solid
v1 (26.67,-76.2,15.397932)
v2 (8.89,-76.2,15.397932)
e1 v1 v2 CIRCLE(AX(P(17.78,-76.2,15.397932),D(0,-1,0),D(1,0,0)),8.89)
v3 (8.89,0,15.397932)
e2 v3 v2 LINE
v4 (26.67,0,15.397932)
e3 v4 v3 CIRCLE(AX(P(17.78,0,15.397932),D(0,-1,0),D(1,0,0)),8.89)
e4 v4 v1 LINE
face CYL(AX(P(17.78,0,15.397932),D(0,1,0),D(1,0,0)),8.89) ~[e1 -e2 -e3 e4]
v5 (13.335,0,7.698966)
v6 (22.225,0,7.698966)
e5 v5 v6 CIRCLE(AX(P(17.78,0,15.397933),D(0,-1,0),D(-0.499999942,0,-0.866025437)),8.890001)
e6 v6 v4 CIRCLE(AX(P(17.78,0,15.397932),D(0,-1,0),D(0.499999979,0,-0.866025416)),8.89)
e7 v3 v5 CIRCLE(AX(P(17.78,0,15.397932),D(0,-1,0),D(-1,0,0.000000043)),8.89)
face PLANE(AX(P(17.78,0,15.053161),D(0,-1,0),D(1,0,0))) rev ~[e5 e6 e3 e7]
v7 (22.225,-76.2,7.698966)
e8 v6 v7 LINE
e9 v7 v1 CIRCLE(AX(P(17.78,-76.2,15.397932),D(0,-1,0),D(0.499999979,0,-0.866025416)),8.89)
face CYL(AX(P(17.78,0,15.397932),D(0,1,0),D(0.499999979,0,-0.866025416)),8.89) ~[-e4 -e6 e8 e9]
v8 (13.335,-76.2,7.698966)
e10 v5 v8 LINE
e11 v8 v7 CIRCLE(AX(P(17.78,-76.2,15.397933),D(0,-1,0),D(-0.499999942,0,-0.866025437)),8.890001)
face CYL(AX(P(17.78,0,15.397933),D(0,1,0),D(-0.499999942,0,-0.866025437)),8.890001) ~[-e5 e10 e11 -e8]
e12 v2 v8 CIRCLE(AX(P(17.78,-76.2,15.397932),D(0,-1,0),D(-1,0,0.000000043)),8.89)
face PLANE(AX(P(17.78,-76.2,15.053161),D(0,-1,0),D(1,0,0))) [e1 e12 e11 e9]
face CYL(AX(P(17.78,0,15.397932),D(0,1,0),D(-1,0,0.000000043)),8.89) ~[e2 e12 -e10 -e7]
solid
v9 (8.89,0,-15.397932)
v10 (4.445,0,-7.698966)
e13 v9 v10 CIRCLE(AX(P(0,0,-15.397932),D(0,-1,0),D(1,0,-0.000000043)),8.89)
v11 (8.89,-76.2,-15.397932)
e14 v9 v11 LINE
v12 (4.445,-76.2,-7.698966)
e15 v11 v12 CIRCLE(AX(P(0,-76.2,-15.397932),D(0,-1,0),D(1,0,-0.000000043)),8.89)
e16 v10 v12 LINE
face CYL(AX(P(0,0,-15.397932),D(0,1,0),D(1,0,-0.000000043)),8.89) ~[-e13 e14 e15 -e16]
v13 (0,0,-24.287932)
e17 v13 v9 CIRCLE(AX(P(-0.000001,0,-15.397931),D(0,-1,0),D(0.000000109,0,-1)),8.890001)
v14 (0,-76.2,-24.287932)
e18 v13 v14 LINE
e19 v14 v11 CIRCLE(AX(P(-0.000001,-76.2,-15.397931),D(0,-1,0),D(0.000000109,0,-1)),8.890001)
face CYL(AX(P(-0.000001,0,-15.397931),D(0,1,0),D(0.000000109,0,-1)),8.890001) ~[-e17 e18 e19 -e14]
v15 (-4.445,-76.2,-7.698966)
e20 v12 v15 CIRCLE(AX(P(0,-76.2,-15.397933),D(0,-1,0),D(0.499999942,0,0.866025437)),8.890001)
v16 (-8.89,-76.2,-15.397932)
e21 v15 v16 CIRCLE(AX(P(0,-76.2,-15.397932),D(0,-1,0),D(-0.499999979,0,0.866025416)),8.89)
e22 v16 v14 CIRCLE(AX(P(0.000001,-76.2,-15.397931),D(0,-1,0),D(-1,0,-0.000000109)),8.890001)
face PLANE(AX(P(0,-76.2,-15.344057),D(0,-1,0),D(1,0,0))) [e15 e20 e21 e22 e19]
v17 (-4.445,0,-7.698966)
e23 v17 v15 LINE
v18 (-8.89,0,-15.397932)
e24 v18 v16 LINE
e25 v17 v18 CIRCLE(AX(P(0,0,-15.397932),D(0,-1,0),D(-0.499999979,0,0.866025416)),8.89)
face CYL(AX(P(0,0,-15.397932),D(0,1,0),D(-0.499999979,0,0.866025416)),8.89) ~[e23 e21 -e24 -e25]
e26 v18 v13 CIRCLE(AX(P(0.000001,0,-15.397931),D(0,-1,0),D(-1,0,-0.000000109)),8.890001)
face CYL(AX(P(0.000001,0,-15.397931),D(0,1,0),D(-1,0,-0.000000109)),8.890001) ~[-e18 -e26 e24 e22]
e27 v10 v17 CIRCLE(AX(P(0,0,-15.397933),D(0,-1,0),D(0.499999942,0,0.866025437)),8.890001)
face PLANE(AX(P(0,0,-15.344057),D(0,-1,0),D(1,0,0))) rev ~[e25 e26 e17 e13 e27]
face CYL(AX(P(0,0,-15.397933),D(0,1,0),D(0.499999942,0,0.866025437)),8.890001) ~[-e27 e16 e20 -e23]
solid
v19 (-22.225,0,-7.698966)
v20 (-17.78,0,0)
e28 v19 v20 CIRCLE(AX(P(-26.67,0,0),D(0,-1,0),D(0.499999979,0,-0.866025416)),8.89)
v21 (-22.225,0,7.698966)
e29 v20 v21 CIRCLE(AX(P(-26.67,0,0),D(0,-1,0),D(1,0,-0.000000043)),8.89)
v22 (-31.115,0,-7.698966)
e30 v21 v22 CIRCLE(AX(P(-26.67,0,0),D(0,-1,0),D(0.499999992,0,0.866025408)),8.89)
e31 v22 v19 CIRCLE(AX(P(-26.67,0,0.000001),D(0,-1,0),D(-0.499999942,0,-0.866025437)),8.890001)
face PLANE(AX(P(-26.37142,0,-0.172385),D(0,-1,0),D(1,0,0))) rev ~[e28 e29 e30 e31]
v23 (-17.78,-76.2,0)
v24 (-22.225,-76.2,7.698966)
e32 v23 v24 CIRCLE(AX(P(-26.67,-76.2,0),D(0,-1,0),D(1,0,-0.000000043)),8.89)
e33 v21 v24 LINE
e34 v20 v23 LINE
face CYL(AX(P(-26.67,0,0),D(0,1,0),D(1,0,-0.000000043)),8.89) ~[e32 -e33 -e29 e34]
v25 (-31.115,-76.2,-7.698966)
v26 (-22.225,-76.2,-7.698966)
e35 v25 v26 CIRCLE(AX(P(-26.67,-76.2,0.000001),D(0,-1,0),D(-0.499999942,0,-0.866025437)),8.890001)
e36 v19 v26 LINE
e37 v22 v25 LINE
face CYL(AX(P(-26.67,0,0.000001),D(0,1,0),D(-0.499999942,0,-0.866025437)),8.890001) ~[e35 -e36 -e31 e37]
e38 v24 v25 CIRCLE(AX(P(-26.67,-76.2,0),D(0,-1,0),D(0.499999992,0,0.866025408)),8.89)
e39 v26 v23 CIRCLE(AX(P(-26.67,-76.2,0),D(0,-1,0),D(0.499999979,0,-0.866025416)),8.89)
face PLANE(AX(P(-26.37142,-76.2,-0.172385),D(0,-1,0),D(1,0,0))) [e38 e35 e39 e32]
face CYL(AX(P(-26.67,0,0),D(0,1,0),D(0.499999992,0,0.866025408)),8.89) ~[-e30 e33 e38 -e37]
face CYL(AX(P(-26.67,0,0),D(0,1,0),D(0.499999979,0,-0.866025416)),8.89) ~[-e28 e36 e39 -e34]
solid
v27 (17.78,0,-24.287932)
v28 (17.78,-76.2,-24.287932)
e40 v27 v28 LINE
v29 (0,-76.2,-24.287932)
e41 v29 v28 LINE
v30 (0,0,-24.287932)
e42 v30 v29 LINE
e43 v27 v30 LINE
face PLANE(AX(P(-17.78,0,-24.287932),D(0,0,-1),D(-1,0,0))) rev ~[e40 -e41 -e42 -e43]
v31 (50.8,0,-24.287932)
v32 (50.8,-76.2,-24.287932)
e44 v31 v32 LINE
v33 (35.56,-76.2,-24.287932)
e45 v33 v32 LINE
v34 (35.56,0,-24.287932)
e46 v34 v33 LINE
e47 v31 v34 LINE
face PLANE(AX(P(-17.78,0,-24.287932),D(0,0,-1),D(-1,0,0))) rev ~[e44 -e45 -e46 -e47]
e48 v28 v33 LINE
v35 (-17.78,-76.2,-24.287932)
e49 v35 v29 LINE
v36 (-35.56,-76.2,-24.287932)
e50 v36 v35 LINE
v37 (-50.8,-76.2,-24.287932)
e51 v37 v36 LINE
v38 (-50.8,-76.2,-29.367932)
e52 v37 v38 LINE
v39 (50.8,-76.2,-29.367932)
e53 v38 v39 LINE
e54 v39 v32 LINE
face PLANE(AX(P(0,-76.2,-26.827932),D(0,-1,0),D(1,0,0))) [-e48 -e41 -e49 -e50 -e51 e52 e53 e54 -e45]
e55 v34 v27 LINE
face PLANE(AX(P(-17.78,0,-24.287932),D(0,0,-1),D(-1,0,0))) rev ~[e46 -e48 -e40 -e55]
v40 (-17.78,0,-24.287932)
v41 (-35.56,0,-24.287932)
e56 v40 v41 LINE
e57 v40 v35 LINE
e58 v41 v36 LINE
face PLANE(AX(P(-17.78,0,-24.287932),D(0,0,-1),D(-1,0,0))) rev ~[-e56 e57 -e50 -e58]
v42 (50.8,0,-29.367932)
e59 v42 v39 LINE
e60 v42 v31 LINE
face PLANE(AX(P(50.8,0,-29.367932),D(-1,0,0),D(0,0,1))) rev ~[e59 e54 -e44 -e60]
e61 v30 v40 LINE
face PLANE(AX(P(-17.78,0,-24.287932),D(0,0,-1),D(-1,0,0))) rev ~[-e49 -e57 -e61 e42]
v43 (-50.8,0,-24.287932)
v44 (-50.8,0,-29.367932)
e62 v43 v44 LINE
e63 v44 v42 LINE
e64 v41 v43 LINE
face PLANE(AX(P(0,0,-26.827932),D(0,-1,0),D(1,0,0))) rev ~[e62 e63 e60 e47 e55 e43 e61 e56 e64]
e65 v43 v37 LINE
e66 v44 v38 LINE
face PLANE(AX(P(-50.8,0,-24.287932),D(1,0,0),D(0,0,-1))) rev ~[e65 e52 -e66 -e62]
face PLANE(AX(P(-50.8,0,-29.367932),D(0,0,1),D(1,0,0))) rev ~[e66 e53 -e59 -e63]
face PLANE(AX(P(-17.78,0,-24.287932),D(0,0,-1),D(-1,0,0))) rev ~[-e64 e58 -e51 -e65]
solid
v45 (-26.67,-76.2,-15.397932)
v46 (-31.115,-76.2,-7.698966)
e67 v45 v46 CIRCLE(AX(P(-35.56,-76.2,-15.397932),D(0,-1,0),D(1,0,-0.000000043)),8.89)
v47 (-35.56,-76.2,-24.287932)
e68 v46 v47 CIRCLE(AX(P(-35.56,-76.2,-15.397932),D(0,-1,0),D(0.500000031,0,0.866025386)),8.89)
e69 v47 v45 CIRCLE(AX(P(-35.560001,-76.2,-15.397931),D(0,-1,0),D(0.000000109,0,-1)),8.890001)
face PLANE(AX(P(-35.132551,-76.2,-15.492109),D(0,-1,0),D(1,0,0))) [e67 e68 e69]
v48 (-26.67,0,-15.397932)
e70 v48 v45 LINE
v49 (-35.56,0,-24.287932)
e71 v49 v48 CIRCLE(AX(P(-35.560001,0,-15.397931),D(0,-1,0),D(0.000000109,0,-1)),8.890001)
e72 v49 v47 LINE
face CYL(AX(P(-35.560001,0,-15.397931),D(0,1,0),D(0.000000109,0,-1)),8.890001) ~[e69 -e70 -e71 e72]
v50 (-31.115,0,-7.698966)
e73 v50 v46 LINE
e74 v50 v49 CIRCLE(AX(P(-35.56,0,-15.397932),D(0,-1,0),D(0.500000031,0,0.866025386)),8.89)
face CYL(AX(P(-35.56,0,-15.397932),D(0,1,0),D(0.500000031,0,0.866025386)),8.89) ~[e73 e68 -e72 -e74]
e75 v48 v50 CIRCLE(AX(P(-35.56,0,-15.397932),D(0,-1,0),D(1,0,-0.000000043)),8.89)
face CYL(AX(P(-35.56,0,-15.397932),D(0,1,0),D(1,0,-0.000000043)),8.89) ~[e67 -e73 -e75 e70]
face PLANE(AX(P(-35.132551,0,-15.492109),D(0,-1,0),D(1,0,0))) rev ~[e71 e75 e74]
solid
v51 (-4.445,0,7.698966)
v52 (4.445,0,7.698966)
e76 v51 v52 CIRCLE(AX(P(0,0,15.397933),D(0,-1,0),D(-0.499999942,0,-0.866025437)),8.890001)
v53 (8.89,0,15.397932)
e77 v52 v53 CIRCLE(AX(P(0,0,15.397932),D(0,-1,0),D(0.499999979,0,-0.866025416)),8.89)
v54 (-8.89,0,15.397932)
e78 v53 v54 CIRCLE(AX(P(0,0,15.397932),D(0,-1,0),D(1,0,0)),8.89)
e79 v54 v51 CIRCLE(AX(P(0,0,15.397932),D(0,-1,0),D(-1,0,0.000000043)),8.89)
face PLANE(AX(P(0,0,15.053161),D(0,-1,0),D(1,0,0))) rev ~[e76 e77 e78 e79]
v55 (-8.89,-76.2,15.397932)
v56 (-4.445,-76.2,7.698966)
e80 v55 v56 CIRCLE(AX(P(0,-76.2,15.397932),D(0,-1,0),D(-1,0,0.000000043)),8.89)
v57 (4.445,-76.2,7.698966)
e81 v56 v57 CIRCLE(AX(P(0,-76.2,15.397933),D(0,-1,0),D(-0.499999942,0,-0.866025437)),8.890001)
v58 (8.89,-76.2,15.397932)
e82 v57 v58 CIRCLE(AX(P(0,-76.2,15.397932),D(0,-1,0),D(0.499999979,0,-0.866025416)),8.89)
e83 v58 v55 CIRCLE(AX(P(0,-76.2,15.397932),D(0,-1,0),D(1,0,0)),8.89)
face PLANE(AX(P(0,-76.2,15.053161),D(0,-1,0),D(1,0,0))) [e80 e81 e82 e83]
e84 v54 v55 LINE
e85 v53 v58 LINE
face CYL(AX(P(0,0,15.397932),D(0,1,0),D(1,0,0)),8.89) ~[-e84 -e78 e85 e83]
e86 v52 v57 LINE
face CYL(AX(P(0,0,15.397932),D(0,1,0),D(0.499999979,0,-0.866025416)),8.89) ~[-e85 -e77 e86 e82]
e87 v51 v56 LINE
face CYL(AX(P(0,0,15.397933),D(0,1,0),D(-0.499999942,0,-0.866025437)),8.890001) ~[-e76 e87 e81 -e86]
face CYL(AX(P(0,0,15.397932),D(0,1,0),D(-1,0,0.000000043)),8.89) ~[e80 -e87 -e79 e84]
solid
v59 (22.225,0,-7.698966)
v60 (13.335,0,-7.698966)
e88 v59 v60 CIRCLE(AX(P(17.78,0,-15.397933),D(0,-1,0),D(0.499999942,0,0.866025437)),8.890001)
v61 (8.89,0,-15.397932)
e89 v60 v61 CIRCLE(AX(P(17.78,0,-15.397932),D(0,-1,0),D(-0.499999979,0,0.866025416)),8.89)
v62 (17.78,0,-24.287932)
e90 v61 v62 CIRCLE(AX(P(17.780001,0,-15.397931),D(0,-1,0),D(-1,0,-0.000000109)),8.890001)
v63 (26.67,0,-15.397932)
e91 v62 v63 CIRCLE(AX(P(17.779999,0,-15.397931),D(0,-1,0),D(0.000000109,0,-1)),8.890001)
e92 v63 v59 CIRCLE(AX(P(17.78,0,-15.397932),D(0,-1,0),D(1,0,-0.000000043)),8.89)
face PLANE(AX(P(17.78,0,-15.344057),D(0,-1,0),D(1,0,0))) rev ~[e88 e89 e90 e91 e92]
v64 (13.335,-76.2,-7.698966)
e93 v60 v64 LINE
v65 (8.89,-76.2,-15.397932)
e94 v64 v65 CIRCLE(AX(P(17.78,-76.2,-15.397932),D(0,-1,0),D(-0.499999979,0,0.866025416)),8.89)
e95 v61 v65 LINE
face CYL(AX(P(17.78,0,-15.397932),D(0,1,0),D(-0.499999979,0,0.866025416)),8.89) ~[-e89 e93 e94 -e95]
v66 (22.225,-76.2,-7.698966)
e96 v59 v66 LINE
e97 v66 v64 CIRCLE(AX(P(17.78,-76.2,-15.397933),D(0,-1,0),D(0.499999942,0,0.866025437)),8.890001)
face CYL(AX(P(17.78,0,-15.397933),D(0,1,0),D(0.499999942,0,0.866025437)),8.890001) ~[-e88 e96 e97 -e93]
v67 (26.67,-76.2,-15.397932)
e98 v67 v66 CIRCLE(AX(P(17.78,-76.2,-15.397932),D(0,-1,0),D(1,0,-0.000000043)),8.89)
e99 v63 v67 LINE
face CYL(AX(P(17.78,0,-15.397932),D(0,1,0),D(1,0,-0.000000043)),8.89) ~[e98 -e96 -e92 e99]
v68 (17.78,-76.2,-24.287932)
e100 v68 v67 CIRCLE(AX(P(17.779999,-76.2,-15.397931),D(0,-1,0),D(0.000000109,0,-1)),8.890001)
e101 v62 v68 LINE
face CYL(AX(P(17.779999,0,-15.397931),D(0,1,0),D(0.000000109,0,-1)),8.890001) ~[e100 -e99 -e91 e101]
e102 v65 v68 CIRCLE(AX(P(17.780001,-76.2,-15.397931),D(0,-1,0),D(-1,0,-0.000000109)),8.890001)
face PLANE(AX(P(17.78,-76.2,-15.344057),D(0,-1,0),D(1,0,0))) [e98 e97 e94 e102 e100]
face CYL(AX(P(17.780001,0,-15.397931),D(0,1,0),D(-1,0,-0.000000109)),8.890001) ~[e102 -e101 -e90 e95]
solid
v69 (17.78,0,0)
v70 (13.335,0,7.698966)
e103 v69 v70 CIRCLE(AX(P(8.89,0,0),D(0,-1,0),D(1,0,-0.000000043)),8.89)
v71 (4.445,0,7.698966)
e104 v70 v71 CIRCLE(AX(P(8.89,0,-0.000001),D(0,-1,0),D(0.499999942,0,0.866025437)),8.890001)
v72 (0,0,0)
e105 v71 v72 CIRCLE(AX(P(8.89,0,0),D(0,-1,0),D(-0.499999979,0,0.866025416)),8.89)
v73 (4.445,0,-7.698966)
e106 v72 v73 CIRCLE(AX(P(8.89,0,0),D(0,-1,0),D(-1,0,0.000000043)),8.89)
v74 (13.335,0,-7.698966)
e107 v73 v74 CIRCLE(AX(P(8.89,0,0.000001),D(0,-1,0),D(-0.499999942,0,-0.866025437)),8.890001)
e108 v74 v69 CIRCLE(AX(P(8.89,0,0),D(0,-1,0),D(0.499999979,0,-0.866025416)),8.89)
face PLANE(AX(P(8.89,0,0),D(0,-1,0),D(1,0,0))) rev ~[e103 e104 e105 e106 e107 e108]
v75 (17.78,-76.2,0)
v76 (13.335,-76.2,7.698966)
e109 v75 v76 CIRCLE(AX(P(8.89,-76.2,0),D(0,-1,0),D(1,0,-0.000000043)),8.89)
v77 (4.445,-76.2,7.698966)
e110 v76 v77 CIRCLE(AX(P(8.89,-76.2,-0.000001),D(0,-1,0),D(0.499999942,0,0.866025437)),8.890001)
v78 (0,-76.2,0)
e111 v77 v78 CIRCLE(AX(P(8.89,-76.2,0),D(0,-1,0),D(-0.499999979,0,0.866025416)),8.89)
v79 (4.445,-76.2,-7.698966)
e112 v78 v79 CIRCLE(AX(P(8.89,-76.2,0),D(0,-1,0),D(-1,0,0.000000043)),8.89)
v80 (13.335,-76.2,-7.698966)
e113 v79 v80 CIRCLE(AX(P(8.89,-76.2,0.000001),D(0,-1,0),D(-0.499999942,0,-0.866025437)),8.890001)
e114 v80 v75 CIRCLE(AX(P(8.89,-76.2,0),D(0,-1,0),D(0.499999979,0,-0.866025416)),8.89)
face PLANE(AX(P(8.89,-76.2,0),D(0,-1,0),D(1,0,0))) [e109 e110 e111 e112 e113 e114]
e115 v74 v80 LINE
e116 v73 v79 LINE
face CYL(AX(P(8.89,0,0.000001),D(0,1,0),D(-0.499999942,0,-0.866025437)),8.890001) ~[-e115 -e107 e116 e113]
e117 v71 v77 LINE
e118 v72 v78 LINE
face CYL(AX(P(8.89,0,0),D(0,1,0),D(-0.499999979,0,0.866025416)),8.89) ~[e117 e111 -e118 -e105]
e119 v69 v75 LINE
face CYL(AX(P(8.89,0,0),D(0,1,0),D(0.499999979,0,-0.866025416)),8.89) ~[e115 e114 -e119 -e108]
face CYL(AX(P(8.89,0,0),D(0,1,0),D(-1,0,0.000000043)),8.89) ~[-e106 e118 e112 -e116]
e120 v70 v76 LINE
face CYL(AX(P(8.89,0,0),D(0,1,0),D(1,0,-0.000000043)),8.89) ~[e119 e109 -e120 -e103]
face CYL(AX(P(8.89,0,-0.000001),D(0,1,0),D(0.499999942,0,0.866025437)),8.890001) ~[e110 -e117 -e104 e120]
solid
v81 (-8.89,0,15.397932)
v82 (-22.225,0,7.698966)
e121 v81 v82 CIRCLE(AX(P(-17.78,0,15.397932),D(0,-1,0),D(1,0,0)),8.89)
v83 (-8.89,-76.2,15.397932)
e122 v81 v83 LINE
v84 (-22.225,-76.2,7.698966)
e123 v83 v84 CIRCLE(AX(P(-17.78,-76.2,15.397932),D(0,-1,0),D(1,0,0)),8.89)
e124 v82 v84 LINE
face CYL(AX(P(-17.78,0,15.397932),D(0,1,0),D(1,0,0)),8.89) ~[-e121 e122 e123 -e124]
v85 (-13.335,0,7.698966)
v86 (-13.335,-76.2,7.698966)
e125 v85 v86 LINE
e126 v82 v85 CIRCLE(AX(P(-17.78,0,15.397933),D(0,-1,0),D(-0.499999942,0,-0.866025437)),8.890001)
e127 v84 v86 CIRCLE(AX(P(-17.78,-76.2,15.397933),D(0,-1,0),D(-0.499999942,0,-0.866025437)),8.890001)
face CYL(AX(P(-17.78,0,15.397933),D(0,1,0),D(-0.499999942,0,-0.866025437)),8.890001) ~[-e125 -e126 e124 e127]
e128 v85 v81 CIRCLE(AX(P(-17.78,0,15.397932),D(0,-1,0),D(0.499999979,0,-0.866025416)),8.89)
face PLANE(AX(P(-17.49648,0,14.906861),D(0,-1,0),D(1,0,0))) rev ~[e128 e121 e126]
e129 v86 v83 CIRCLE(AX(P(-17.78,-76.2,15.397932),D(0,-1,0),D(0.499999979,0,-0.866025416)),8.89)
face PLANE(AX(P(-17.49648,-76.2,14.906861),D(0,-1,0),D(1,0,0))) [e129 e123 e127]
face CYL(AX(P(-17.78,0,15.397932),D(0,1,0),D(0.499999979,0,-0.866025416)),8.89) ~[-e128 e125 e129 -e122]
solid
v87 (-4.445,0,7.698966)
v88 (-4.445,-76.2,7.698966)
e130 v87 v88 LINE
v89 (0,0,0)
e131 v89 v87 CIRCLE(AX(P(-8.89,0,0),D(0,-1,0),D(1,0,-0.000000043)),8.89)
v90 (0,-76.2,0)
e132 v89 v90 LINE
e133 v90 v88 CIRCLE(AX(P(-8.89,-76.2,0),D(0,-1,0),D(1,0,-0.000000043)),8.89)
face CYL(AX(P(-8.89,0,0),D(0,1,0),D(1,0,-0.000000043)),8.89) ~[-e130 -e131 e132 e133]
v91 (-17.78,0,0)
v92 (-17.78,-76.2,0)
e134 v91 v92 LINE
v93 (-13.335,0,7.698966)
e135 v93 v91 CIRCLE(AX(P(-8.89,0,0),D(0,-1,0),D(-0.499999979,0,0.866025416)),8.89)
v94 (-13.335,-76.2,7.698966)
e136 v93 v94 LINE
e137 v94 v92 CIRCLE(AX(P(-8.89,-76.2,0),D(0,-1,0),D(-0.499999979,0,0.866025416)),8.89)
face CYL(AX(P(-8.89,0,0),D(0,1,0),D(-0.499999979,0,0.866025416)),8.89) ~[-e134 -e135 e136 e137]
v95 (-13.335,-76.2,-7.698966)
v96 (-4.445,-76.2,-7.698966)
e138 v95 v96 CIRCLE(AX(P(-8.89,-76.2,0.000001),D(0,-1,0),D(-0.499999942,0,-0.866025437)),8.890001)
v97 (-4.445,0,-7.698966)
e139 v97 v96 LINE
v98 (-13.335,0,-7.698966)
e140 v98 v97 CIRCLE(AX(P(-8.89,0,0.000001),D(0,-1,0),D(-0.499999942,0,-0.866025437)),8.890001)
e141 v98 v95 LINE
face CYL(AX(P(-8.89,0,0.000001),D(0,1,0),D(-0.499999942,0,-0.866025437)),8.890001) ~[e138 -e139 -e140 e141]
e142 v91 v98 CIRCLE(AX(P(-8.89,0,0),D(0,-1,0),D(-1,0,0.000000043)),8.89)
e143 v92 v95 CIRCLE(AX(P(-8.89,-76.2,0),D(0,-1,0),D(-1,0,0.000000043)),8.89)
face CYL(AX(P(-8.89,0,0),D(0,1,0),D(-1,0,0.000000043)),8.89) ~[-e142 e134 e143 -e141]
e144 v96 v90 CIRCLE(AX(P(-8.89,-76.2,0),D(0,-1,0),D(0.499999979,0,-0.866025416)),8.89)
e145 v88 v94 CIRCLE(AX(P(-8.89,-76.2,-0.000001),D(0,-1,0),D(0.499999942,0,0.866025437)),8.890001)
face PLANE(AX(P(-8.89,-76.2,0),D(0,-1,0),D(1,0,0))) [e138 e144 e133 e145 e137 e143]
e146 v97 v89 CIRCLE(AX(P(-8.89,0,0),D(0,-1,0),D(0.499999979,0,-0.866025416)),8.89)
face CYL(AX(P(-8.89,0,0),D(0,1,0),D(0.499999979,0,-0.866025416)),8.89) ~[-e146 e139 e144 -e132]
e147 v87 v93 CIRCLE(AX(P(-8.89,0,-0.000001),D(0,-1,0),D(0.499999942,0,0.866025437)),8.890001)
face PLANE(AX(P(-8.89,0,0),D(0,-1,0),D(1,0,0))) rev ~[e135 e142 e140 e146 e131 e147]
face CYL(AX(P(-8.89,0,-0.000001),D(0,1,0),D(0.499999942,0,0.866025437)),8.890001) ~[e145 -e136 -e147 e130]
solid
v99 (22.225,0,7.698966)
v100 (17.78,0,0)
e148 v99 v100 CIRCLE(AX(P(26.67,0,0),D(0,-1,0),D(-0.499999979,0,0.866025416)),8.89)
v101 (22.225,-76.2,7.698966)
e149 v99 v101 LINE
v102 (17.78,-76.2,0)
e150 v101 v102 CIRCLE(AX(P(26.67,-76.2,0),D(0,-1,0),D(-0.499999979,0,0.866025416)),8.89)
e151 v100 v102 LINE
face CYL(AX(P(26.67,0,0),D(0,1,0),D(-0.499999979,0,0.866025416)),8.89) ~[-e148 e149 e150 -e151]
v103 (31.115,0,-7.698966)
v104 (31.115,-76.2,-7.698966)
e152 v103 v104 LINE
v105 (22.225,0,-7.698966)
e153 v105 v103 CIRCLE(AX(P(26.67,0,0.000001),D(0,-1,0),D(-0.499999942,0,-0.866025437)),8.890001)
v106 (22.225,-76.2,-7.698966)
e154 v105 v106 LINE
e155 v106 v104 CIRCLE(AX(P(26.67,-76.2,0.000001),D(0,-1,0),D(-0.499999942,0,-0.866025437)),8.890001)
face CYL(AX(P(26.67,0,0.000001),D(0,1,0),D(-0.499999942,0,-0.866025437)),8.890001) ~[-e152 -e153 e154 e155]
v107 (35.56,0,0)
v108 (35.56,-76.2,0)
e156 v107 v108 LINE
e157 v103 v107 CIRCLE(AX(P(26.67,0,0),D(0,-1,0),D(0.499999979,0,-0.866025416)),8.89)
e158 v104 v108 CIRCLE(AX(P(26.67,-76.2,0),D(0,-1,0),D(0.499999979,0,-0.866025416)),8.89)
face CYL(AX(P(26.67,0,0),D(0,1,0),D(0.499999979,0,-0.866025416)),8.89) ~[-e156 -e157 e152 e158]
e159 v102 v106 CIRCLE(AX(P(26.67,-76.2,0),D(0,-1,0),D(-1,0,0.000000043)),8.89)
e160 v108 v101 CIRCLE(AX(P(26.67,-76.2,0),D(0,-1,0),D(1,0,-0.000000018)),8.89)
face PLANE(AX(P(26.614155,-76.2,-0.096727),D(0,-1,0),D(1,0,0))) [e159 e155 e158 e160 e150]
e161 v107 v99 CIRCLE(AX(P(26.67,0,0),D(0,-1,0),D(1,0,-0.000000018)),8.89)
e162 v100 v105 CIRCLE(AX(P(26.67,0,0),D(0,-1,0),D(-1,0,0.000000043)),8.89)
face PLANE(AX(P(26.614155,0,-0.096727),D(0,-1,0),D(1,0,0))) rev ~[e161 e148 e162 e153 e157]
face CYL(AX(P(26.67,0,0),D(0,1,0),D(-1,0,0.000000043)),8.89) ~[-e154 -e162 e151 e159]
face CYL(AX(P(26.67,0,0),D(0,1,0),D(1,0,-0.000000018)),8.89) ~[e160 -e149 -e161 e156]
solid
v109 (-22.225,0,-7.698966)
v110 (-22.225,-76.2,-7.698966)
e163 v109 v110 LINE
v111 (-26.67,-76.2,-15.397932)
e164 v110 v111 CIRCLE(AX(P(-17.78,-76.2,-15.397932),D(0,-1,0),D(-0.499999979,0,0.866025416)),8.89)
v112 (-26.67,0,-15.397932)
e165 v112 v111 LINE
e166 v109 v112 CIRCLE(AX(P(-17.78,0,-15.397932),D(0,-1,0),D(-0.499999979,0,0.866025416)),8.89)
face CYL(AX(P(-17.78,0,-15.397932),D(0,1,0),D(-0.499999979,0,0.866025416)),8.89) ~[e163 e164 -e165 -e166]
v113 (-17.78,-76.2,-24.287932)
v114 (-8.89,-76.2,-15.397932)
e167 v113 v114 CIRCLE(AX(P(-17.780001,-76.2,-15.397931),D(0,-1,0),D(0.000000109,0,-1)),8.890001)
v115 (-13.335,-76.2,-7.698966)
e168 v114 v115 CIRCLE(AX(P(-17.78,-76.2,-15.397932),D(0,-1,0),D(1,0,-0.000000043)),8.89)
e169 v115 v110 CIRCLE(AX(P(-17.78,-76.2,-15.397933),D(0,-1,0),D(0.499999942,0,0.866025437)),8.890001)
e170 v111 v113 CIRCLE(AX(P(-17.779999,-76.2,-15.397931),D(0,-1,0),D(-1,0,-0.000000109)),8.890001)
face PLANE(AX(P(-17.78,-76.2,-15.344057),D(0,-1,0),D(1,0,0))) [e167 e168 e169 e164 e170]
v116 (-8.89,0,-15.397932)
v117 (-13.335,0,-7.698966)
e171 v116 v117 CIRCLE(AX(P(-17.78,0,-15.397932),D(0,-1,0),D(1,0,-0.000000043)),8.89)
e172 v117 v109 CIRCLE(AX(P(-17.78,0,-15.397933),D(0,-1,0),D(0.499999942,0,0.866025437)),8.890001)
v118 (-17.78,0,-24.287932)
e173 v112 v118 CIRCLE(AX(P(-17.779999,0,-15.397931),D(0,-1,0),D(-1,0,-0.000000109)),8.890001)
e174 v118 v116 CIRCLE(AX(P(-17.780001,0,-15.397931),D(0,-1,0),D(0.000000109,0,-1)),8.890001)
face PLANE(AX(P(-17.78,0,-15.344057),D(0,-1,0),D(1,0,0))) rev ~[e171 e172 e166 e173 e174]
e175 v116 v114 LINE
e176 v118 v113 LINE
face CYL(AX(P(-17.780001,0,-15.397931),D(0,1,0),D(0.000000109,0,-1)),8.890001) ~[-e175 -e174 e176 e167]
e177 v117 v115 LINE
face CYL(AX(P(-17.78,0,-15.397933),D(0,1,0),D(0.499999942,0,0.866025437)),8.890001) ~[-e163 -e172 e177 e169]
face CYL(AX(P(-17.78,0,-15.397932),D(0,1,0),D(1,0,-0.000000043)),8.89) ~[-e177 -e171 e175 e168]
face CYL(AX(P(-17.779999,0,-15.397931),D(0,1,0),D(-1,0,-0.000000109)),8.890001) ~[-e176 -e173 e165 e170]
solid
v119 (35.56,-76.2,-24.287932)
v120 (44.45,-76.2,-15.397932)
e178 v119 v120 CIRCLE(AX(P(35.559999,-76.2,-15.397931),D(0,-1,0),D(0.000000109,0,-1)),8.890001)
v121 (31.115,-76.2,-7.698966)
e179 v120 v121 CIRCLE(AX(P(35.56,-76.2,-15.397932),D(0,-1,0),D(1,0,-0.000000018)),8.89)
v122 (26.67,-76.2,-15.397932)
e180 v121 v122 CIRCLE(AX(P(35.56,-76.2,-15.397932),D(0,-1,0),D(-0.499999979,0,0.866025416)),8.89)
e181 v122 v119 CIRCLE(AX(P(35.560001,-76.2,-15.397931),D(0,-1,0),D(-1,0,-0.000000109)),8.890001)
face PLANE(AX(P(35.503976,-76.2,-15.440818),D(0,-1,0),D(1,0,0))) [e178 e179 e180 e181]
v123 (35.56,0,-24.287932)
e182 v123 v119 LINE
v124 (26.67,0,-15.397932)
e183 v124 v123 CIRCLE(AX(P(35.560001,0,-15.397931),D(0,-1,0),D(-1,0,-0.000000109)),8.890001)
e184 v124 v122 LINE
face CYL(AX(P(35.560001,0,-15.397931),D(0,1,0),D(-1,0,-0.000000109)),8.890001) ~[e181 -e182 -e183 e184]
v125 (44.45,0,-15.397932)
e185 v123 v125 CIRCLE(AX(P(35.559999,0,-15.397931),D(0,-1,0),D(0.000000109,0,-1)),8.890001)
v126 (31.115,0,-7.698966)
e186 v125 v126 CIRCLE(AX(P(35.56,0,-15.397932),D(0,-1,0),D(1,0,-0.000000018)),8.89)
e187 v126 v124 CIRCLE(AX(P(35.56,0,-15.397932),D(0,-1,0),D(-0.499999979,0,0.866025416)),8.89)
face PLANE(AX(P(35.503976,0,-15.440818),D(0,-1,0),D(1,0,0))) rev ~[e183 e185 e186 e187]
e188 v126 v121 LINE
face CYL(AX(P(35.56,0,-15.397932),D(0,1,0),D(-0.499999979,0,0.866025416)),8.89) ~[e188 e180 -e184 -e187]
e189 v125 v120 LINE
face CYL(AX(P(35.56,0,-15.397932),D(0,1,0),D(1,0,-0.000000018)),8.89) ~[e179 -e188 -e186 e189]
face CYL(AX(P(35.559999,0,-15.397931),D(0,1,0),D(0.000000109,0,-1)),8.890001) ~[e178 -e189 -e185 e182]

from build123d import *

# Parameters (mm, degrees)
F1_DEPTH = 76.2


with BuildPart() as f1:
    # F0 (on Front) → F1 (new body)
    with BuildSketch(Plane.XZ):
        with BuildLine():
            ThreePointArc((-8.89, 15.397932), (-22.225, 23.096898), (-22.225, 7.698966))
            ThreePointArc((-22.225, 7.698966), (-17.78, 6.507932), (-13.335, 7.698966))
            ThreePointArc((-13.335, 7.698966), (-10.081034, 10.952932), (-8.89, 15.397932))
        make_face()
        with BuildLine():
            ThreePointArc((8.89, 15.397932), (0, 24.287932), (-8.89, 15.397932))
            ThreePointArc((-8.89, 15.397932), (-7.698966, 10.952932), (-4.445, 7.698966))
            ThreePointArc((-4.445, 7.698966), (0, 6.507932), (4.445, 7.698966))
            ThreePointArc((4.445, 7.698966), (7.698966, 10.952932), (8.89, 15.397932))
        make_face()
        with BuildLine():
            ThreePointArc((26.67, 15.397932), (17.78, 24.287932), (8.89, 15.397932))
            ThreePointArc((8.89, 15.397932), (10.081034, 10.952932), (13.335, 7.698966))
            ThreePointArc((13.335, 7.698966), (17.78, 6.507932), (22.225, 7.698966))
            ThreePointArc((22.225, 7.698966), (25.478966, 10.952932), (26.67, 15.397932))
        make_face()
        with BuildLine():
            ThreePointArc((35.56, 0), (31.115, 7.698966), (22.225, 7.698966))
            ThreePointArc((22.225, 7.698966), (18.971034, 4.445), (17.78, 0))
            ThreePointArc((17.78, 0), (18.971034, -4.445), (22.225, -7.698966))
            ThreePointArc((22.225, -7.698966), (26.67, -8.89), (31.115, -7.698966))
            ThreePointArc((31.115, -7.698966), (34.368966, -4.445), (35.56, 0))
        make_face()
        with BuildLine():
            ThreePointArc((4.445, 7.698966), (1.191034, 4.445), (0, 0))
            ThreePointArc((0, 0), (1.191034, -4.445), (4.445, -7.698966))
            ThreePointArc((4.445, -7.698966), (8.89, -8.89), (13.335, -7.698966))
            ThreePointArc((13.335, -7.698966), (16.588966, -4.445), (17.78, 0))
            ThreePointArc((17.78, 0), (16.588966, 4.445), (13.335, 7.698966))
            ThreePointArc((13.335, 7.698966), (8.89, 8.89), (4.445, 7.698966))
        make_face()
        with BuildLine():
            ThreePointArc((-13.335, 7.698966), (-16.588966, 4.445), (-17.78, 0))
            ThreePointArc((-17.78, 0), (-16.588966, -4.445), (-13.335, -7.698966))
            ThreePointArc((-13.335, -7.698966), (-8.89, -8.89), (-4.445, -7.698966))
            ThreePointArc((-4.445, -7.698966), (-1.191034, -4.445), (0, 0))
            ThreePointArc((0, 0), (-1.191034, 4.445), (-4.445, 7.698966))
            ThreePointArc((-4.445, 7.698966), (-8.89, 8.89), (-13.335, 7.698966))
        make_face()
        with BuildLine():
            ThreePointArc((-22.225, -7.698966), (-18.971034, -4.445), (-17.78, 0))
            ThreePointArc((-17.78, 0), (-18.971034, 4.445), (-22.225, 7.698966))
            ThreePointArc((-22.225, 7.698966), (-34.368966, 4.445), (-31.115, -7.698966))
            ThreePointArc((-31.115, -7.698966), (-26.67, -8.89), (-22.225, -7.698966))
        make_face()
        with BuildLine():
            ThreePointArc((-26.67, -15.397932), (-27.861034, -10.952932), (-31.115, -7.698966))
            ThreePointArc((-31.115, -7.698966), (-44.147081, -13.09703), (-35.56, -24.287932))
            ThreePointArc((-35.56, -24.287932), (-29.273821, -21.684111), (-26.67, -15.397932))
        make_face()
        with BuildLine():
            ThreePointArc((-13.335, -7.698966), (-17.78, -6.507932), (-22.225, -7.698966))
            ThreePointArc((-22.225, -7.698966), (-25.478966, -10.952932), (-26.67, -15.397932))
            ThreePointArc((-26.67, -15.397932), (-24.066179, -21.684111), (-17.78, -24.287932))
            ThreePointArc((-17.78, -24.287932), (-11.493821, -21.684111), (-8.89, -15.397932))
            ThreePointArc((-8.89, -15.397932), (-10.081034, -10.952932), (-13.335, -7.698966))
        make_face()
        with BuildLine():
            ThreePointArc((4.445, -7.698966), (0, -6.507932), (-4.445, -7.698966))
            ThreePointArc((-4.445, -7.698966), (-7.698966, -10.952932), (-8.89, -15.397932))
            ThreePointArc((-8.89, -15.397932), (-6.286179, -21.684111), (0, -24.287932))
            ThreePointArc((0, -24.287932), (6.286179, -21.684111), (8.89, -15.397932))
            ThreePointArc((8.89, -15.397932), (7.698966, -10.952932), (4.445, -7.698966))
        make_face()
        with BuildLine():
            ThreePointArc((22.225, -7.698966), (17.78, -6.507932), (13.335, -7.698966))
            ThreePointArc((13.335, -7.698966), (10.081034, -10.952932), (8.89, -15.397932))
            ThreePointArc((8.89, -15.397932), (11.493821, -21.684111), (17.78, -24.287932))
            ThreePointArc((17.78, -24.287932), (24.066179, -21.684111), (26.67, -15.397932))
            ThreePointArc((26.67, -15.397932), (25.478966, -10.952932), (22.225, -7.698966))
        make_face()
        with BuildLine():
            ThreePointArc((31.115, -7.698966), (27.861034, -10.952932), (26.67, -15.397932))
            ThreePointArc((26.67, -15.397932), (29.273821, -21.684111), (35.56, -24.287932))
            ThreePointArc((35.56, -24.287932), (41.846179, -21.684111), (44.45, -15.397932))
            ThreePointArc((44.45, -15.397932), (40.005, -7.698966), (31.115, -7.698966))
        make_face()
        Polygon((-17.78, -24.287932), (-35.56, -24.287932), (-50.8, -24.287932), (-50.8, -29.367932), (50.8, -29.367932), (50.8, -24.287932), (35.56, -24.287932), (17.78, -24.287932), (0, -24.287932), align=None)
    extrude(amount=F1_DEPTH)


solid = f1.part
